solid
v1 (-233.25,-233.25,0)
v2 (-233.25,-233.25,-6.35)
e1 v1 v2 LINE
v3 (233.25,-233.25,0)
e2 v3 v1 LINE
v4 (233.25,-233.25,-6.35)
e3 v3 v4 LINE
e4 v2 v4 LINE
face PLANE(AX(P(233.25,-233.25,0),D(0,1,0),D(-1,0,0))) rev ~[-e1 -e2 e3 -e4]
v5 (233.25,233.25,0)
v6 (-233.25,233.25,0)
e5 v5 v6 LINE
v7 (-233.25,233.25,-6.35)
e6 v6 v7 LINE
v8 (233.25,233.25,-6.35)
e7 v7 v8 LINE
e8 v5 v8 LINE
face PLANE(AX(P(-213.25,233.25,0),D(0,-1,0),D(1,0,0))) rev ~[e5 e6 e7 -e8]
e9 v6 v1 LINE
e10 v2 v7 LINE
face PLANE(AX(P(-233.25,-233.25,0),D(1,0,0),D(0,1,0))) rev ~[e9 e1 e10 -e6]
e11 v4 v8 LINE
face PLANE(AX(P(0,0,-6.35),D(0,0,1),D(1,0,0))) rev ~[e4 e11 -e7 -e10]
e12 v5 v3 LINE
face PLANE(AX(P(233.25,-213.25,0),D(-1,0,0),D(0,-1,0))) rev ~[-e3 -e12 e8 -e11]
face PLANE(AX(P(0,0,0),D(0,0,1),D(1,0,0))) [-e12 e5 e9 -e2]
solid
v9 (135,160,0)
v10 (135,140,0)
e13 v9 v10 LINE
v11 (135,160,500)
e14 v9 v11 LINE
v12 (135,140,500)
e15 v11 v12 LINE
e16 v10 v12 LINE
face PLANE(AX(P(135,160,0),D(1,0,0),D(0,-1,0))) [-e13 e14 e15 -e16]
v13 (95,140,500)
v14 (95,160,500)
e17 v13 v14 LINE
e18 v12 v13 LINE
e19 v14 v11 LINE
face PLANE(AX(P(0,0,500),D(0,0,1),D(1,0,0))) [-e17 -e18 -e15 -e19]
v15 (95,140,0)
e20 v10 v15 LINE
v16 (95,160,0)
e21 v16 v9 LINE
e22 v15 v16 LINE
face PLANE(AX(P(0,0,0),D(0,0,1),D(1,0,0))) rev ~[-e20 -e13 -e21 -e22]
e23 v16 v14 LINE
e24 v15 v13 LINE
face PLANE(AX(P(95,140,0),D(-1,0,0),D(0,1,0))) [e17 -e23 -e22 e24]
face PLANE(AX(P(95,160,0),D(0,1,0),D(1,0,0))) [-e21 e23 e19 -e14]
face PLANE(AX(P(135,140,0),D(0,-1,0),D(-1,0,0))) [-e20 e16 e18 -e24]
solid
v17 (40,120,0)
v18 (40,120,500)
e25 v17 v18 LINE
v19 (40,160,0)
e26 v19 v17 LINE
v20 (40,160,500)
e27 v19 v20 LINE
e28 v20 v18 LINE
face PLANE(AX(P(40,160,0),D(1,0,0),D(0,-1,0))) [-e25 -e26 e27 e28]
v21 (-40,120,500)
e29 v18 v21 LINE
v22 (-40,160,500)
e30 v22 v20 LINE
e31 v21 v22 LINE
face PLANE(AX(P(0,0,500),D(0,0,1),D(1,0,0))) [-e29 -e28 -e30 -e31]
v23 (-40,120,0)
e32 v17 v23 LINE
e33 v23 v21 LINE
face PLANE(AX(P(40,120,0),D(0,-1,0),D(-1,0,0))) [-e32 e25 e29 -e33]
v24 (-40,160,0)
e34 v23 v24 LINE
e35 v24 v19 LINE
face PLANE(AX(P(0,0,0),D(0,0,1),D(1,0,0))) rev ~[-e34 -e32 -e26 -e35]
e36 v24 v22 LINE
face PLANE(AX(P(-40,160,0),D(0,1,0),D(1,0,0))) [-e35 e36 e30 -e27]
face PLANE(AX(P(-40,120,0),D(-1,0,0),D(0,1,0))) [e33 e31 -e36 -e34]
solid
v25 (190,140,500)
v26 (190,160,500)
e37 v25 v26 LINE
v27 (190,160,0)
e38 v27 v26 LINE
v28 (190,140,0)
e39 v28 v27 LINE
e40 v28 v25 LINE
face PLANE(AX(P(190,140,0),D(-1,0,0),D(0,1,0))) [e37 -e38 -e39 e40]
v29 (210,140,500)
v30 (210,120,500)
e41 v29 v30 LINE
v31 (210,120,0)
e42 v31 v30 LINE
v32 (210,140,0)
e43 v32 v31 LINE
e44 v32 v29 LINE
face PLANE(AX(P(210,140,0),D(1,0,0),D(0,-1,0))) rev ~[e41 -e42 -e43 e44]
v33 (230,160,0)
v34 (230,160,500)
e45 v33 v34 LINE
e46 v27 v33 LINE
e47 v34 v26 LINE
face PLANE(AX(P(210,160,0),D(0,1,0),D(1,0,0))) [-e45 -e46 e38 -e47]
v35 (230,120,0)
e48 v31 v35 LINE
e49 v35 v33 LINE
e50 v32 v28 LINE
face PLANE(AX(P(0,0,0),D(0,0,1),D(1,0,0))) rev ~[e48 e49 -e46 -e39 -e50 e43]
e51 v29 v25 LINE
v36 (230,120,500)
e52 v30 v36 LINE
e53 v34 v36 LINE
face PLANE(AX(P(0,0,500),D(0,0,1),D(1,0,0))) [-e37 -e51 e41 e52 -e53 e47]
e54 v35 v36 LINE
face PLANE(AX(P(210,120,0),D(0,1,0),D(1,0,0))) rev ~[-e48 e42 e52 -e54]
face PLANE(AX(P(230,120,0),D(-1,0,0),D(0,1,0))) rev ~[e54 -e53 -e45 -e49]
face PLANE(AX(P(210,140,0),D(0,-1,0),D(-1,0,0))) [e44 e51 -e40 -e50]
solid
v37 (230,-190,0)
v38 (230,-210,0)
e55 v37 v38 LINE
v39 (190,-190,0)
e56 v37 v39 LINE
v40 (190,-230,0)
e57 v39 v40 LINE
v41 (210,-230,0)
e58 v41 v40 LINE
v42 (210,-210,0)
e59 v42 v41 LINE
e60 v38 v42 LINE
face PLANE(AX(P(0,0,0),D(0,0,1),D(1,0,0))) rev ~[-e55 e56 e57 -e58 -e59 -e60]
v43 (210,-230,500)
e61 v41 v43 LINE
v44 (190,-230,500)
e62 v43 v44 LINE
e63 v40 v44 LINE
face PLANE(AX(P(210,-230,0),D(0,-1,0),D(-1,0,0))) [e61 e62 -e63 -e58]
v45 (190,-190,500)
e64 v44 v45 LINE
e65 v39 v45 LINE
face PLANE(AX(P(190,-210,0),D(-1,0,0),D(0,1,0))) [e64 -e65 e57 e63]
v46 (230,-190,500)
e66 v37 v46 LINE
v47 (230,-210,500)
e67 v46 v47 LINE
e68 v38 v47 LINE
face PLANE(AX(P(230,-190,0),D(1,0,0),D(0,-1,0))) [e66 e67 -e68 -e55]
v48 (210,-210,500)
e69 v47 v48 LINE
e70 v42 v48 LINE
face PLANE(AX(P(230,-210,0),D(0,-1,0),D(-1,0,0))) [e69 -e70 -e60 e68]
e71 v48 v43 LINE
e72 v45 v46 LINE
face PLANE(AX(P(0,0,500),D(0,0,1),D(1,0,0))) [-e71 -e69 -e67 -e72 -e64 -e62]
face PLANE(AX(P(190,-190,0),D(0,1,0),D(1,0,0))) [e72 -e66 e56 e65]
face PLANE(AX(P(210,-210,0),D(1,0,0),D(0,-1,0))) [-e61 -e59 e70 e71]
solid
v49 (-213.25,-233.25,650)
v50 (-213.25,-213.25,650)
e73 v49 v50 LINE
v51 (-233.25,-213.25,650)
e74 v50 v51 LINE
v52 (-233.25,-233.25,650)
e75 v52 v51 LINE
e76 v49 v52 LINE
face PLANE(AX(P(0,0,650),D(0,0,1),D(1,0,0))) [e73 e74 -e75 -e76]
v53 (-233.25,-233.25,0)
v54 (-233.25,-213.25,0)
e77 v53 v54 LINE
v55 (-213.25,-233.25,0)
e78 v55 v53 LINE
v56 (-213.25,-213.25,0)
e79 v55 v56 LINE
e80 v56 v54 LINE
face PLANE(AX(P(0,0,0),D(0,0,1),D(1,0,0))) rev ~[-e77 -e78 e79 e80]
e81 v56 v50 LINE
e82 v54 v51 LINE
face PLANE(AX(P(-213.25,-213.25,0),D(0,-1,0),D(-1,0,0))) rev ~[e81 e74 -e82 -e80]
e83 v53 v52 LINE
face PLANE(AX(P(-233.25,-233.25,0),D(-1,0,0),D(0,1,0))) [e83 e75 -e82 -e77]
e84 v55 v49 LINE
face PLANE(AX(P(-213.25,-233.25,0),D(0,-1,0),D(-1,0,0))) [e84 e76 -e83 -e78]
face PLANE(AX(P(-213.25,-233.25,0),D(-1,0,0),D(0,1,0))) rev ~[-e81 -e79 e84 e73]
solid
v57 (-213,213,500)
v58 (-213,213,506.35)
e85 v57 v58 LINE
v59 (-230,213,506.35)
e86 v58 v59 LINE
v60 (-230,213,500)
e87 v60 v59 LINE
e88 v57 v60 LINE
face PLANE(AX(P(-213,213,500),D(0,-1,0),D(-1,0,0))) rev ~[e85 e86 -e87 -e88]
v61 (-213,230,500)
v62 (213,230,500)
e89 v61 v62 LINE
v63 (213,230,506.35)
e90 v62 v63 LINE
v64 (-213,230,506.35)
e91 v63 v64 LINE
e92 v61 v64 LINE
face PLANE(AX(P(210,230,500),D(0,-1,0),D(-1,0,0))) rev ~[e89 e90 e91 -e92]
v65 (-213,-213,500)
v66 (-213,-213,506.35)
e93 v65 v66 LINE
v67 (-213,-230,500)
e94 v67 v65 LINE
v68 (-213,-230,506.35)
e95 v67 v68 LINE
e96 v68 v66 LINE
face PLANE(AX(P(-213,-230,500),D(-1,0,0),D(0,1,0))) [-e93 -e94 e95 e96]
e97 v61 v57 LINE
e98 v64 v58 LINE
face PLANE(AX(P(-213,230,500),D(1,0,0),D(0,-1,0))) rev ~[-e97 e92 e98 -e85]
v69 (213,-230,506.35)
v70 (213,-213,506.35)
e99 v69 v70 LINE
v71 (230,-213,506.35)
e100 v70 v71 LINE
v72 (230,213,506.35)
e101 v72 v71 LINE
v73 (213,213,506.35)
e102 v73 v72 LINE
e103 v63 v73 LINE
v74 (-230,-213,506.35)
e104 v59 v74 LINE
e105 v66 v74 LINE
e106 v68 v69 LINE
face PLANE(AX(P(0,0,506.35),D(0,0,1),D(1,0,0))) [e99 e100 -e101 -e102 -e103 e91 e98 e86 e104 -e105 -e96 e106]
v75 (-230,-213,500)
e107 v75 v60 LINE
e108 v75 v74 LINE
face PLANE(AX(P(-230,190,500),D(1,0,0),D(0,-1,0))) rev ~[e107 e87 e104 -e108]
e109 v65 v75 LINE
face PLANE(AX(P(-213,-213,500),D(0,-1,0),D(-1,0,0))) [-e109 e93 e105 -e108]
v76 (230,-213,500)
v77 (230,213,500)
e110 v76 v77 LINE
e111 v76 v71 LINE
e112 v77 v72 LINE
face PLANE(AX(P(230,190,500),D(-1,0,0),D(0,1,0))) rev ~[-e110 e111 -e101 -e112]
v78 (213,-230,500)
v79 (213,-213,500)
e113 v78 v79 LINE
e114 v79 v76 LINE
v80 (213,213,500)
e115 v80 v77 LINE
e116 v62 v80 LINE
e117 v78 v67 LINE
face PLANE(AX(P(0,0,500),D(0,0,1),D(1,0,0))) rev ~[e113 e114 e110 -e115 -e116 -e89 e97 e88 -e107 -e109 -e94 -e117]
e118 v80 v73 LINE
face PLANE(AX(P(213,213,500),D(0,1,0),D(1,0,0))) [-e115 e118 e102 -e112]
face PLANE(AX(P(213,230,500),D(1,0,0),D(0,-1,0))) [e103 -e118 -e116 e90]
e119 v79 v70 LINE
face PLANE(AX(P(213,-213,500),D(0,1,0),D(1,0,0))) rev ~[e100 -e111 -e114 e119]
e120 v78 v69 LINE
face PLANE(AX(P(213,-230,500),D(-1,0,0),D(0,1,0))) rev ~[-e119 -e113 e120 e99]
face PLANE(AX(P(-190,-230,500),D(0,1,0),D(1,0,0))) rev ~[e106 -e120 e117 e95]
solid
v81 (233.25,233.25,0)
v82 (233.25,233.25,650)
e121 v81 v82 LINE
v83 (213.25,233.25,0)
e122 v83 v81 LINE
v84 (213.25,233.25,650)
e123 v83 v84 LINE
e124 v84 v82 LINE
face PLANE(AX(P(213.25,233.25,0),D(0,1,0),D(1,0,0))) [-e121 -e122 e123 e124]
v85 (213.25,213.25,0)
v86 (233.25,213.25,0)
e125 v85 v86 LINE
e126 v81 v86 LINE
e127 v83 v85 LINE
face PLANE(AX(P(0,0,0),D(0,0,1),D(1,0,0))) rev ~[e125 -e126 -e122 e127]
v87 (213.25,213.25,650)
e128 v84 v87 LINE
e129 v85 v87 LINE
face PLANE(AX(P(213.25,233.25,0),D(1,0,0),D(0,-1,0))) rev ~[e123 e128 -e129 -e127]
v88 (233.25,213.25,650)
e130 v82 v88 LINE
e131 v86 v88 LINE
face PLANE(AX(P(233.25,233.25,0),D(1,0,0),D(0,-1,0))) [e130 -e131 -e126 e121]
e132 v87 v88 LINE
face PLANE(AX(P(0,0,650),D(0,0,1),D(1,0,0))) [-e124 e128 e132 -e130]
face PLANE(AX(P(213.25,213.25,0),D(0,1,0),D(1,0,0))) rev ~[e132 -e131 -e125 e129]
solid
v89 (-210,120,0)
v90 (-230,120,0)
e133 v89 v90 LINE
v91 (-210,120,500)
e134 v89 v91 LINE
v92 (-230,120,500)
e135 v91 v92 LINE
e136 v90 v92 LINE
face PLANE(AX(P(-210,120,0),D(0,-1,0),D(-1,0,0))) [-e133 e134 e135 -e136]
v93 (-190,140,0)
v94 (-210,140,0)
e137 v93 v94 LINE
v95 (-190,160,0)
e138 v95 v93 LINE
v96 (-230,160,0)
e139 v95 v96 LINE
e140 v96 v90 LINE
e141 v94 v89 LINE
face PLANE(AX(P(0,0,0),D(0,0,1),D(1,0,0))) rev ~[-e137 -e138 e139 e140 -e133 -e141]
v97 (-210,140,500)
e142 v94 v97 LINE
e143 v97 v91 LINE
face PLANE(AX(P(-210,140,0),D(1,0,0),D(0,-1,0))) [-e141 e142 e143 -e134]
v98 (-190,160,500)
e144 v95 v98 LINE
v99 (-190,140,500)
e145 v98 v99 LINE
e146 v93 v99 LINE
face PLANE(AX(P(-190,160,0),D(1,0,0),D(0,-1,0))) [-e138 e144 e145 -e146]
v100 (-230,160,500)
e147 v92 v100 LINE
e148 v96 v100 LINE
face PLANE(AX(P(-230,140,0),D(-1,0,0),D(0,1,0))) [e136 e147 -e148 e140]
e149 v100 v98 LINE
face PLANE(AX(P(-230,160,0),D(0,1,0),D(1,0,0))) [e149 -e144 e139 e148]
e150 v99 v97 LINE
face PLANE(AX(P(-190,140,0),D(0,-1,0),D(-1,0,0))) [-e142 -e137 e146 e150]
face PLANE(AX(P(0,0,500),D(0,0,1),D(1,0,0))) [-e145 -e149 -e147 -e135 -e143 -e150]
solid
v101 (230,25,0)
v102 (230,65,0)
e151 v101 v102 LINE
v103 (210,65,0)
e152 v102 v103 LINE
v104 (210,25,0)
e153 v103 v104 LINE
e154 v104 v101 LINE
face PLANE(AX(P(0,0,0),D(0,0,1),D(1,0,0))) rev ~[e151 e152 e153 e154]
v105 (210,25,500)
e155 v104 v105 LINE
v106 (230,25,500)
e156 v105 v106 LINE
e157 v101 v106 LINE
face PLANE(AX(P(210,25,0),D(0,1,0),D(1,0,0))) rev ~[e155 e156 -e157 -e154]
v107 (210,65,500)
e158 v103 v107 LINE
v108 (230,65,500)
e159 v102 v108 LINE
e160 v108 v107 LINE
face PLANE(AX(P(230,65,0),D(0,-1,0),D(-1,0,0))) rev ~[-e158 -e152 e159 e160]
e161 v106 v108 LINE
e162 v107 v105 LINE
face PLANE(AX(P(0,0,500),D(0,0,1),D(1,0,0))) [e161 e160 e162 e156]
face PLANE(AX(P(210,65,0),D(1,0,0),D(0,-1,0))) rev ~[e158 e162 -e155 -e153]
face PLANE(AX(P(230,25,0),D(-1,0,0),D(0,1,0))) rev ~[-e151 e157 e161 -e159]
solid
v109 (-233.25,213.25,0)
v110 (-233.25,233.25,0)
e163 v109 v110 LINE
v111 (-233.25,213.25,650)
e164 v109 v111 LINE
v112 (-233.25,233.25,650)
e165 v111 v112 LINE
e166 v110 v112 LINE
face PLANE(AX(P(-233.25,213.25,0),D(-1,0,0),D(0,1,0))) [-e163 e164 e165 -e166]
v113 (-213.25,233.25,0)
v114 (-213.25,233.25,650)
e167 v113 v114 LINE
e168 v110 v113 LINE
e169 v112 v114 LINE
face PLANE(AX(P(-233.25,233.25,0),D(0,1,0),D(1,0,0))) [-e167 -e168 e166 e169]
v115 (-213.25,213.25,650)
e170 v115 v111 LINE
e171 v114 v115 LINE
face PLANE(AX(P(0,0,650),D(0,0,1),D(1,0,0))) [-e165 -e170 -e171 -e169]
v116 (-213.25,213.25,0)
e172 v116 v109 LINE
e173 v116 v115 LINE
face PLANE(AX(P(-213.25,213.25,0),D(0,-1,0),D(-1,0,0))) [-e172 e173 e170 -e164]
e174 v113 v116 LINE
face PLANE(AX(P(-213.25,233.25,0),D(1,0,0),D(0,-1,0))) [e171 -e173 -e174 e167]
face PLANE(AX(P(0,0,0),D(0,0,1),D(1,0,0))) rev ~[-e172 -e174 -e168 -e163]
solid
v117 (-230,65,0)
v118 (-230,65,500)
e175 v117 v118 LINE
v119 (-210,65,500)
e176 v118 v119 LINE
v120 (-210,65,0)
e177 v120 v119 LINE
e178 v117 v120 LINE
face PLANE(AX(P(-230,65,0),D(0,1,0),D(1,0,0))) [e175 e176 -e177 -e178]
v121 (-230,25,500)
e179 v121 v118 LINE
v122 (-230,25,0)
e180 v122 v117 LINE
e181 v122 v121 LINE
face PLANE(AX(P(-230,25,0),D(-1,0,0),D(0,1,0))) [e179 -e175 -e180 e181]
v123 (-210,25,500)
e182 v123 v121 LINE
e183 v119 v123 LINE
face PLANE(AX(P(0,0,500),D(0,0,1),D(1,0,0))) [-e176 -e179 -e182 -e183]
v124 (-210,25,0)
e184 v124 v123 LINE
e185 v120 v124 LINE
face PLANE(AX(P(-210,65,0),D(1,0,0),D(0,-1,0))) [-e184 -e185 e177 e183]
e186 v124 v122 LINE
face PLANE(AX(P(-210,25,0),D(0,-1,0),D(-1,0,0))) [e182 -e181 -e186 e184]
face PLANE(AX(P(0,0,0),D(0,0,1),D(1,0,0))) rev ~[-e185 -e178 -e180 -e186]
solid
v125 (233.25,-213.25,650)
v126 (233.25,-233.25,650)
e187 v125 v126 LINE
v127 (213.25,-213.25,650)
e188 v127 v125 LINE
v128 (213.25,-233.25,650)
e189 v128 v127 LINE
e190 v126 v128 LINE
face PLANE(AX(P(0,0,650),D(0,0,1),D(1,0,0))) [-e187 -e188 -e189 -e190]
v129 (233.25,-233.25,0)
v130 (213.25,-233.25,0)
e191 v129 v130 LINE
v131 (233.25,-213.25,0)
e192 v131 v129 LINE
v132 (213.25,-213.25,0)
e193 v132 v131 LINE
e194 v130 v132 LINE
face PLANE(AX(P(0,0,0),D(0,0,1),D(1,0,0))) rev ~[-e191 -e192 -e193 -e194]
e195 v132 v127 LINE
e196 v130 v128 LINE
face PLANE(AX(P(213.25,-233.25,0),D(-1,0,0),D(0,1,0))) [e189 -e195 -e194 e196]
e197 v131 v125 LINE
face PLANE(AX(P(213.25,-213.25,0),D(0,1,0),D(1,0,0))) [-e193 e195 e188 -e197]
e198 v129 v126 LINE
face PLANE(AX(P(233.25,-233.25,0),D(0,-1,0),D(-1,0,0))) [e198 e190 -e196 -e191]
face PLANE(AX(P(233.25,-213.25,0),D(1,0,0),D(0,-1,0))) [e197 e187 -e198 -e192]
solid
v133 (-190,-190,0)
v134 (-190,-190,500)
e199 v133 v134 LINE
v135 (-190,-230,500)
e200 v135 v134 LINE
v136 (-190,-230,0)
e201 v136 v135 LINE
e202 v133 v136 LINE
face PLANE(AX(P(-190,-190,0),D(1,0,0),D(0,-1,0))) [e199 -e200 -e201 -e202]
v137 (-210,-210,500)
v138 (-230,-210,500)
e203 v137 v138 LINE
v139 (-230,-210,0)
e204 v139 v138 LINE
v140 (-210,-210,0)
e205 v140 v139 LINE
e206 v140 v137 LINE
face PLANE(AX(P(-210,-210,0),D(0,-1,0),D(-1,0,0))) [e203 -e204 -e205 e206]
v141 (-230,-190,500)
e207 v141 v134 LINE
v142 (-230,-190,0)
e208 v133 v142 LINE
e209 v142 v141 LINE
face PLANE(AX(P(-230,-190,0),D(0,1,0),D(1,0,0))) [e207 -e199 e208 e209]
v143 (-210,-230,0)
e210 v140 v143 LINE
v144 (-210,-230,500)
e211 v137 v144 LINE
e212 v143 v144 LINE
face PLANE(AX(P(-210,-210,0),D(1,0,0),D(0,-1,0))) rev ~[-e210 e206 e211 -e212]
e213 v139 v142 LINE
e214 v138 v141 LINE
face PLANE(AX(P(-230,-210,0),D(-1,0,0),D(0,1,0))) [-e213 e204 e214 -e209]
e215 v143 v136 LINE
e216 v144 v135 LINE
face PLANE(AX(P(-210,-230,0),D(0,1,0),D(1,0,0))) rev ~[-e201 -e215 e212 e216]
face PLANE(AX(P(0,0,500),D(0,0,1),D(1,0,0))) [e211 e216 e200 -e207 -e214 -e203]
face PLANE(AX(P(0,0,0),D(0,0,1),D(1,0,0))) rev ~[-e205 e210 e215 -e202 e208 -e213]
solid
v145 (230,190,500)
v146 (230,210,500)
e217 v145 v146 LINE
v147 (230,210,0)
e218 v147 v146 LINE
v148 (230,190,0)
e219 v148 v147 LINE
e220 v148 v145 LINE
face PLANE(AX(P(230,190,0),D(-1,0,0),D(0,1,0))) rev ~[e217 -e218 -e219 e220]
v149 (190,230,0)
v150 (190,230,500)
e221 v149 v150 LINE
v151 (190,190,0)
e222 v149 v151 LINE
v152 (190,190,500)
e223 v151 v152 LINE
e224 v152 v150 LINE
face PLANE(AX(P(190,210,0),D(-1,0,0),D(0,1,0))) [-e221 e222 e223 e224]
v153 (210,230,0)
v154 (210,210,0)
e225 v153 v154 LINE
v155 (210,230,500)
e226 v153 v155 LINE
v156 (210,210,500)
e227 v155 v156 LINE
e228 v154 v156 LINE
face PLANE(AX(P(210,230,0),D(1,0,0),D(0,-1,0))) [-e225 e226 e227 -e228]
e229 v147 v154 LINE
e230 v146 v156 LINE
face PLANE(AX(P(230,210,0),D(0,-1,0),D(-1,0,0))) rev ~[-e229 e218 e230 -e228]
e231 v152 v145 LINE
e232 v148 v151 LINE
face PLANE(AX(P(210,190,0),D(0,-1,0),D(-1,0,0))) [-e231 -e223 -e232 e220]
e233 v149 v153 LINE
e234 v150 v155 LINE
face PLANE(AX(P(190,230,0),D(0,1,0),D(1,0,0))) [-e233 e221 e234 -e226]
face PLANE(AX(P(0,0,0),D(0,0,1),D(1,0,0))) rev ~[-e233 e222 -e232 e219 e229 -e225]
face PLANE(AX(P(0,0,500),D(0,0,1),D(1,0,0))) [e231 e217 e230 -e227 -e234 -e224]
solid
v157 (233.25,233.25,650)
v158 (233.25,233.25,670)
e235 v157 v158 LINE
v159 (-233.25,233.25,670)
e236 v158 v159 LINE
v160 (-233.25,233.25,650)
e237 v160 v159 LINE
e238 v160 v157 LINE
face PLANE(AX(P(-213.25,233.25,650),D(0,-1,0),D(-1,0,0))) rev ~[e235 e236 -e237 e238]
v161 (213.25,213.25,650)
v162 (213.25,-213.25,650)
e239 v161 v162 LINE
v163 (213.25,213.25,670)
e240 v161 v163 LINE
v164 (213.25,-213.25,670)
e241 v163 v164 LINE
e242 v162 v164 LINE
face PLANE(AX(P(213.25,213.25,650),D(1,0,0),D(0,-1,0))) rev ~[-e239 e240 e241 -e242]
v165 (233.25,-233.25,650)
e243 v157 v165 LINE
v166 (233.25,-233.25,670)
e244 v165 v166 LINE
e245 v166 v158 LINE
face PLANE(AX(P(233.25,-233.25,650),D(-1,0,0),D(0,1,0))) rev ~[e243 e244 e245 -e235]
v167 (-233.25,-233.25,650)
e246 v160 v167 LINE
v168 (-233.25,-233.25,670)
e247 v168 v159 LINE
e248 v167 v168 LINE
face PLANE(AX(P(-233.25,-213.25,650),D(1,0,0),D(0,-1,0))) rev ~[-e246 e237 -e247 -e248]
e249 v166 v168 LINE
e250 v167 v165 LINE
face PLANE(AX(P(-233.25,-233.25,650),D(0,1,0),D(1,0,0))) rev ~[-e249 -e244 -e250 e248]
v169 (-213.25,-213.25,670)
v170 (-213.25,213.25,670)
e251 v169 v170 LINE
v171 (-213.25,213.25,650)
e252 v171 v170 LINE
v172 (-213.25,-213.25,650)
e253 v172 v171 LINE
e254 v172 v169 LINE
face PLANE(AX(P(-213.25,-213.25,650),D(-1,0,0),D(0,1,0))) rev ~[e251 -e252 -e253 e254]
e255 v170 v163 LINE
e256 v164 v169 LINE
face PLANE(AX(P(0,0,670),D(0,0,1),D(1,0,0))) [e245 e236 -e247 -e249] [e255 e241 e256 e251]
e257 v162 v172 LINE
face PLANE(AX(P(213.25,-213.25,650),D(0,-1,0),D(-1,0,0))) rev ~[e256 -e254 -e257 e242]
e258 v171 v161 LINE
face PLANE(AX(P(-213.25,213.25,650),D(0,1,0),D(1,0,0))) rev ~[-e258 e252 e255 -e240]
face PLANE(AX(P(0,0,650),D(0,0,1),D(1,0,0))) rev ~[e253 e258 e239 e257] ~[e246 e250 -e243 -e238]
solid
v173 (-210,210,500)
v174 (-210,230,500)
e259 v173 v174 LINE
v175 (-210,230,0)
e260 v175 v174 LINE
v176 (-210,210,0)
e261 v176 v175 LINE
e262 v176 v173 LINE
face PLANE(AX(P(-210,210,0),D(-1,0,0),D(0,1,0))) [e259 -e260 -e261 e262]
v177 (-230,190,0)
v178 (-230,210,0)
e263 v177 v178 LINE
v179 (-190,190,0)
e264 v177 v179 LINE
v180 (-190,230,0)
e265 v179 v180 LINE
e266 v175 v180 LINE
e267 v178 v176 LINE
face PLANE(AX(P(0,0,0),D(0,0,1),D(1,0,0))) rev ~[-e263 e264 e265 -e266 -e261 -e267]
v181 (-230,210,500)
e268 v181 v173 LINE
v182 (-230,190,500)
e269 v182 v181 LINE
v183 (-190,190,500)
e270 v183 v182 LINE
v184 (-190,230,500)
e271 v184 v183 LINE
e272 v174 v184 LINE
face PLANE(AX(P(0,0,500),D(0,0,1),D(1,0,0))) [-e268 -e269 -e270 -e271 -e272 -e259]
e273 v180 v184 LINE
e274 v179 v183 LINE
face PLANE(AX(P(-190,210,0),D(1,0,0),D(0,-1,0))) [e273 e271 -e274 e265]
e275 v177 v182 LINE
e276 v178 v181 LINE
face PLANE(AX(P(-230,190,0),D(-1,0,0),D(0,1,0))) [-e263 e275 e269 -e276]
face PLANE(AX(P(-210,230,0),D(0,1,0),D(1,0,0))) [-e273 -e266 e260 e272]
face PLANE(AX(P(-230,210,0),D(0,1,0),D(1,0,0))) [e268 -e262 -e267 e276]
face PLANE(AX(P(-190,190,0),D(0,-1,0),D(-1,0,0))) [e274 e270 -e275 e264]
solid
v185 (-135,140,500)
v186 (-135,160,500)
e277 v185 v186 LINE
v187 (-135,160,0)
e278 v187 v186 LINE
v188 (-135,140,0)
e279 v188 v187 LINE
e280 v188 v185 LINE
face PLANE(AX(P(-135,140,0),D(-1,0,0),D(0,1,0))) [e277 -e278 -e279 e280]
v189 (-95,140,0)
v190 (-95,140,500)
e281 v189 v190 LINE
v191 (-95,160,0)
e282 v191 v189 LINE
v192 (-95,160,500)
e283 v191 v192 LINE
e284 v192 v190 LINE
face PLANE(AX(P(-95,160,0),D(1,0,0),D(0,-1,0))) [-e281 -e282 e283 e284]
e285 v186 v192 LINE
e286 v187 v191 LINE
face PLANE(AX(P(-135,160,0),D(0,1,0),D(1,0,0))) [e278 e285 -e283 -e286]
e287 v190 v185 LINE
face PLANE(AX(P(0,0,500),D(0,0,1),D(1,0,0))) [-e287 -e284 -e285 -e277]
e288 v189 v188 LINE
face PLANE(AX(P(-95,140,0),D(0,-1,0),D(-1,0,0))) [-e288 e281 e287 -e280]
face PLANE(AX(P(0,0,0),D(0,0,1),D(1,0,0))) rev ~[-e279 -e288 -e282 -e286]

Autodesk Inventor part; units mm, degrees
ref_plane "YZ Plane" through (0, 0, 0) normal (1, 0, 0) x (0, 1, 0)
ref_plane "XZ Plane" through (0, 0, 0) normal (0, 1, 0) x (-1, 0, 0)
ref_plane "XY Plane" through (0, 0, 0) normal (0, 0, 1) x (1, 0, 0)
sketch "Sketch1" plane through (0, 0, 0) normal (0, 0, 1) x (1, 0, 0)
  line L0 (233.25, -233.25) -> (-233.25, -233.25)
  line L1 (-233.25, -233.25) -> (-233.25, 233.25)
  line L2 (-233.25, 233.25) -> (233.25, 233.25)
  line L3 (233.25, 233.25) -> (233.25, -233.25)
  line L4 (233.25, -233.25) -> (-233.25, 233.25) construction
  line L5 (-233.25, -233.25) -> (233.25, 233.25) construction
  line L6 (-233.25, 233.25) -> (-213.25, 233.25)
  line L7 (-213.25, 233.25) -> (-213.25, 213.25)
  line L8 (-213.25, 213.25) -> (-233.25, 213.25)
  line L9 (-233.25, 213.25) -> (-233.25, 233.25)
  line L10 (233.25, 233.25) -> (213.25, 233.25)
  line L11 (213.25, 233.25) -> (213.25, 213.25)
  line L12 (213.25, 213.25) -> (233.25, 213.25)
  line L13 (233.25, 213.25) -> (233.25, 233.25)
  line L14 (-233.25, -233.25) -> (-213.25, -233.25)
  line L15 (-213.25, -233.25) -> (-213.25, -213.25)
  line L16 (-213.25, -213.25) -> (-233.25, -213.25)
  line L17 (-233.25, -213.25) -> (-233.25, -233.25)
  line L18 (233.25, -233.25) -> (213.25, -233.25)
  line L19 (213.25, -233.25) -> (213.25, -213.25)
  line L20 (213.25, -213.25) -> (233.25, -213.25)
  line L21 (233.25, -213.25) -> (233.25, -233.25)
  line L22 (-190, 190) -> (-210, 190)
  line L23 (-210, 190) -> (-210, 230)
  line L24 (-210, 230) -> (-190, 230)
  line L25 (-190, 230) -> (-190, 190)
  line L26 (-190, 190) -> (-230, 190)
  line L27 (-230, 190) -> (-230, 210)
  line L28 (-230, 210) -> (-190, 210)
  line L29 (-190, 210) -> (-190, 190)
  line L30 (190, 230) -> (210, 230)
  line L31 (210, 230) -> (210, 190)
  line L32 (210, 190) -> (190, 190)
  line L33 (190, 190) -> (190, 230)
  line L34 (190, 190) -> (230, 190)
  line L35 (230, 190) -> (230, 210)
  line L36 (230, 210) -> (190, 210)
  line L37 (190, 210) -> (190, 190)
  line L38 (-230, -190) -> (-190, -190)
  line L39 (-190, -190) -> (-190, -210)
  line L40 (-190, -210) -> (-230, -210)
  line L41 (-230, -210) -> (-230, -190)
  line L42 (-190, -190) -> (-210, -190)
  line L43 (-210, -190) -> (-210, -230)
  line L44 (-210, -230) -> (-190, -230)
  line L45 (-190, -230) -> (-190, -190)
  line L46 (190, -190) -> (230, -190)
  line L47 (230, -190) -> (230, -210)
  line L48 (230, -210) -> (190, -210)
  line L49 (190, -210) -> (190, -190)
  line L50 (190, -190) -> (210, -190)
  line L51 (210, -190) -> (210, -230)
  line L52 (210, -230) -> (190, -230)
  line L53 (190, -230) -> (190, -190)
  line L54 (-40, 160) -> (40, 160)
  line L55 (40, 160) -> (40, 120)
  line L56 (40, 120) -> (-40, 120)
  line L57 (-40, 120) -> (-40, 160)
  circle A0 centre (-112.5, -82.5) radius 105
  circle A1 centre (112.5, -82.5) radius 105
  line L58 (-112.5, -82.5) -> (112.5, -82.5) construction
  line L59 (150, -180) -> (-150, -180)
  line L60 (-150, -180) -> (-150, 70)
  line L61 (-150, 70) -> (150, 70)
  line L62 (150, 70) -> (150, -180)
  line L63 (150, -180) -> (-150, 70) construction
  line L64 (-150, -180) -> (150, 70) construction
  line L65 (-230, 160) -> (-210, 160)
  line L66 (-210, 160) -> (-210, 120)
  line L67 (-210, 120) -> (-230, 120)
  line L68 (-230, 120) -> (-230, 160)
  line L69 (-230, 160) -> (-190, 160)
  line L70 (-190, 160) -> (-190, 140)
  line L71 (-190, 140) -> (-230, 140)
  line L72 (-230, 140) -> (-230, 160)
  line L73 (-135, 160) -> (-95, 160)
  line L74 (-95, 160) -> (-95, 140)
  line L75 (-95, 140) -> (-135, 140)
  line L76 (-135, 140) -> (-135, 160)
  line L77 (-230, 65) -> (-210, 65)
  line L78 (-210, 65) -> (-210, 25)
  line L79 (-210, 25) -> (-230, 25)
  line L80 (-230, 25) -> (-230, 65)
  line L81 (-210, 25) -> (-210, -190) construction
  line L82 (95, 160) -> (135, 160)
  line L83 (135, 160) -> (135, 140)
  line L84 (135, 140) -> (95, 140)
  line L85 (95, 140) -> (95, 160)
  line L86 (230, 140) -> (190, 140)
  line L87 (190, 140) -> (190, 160)
  line L88 (190, 160) -> (230, 160)
  line L89 (230, 160) -> (230, 140)
  line L90 (230, 160) -> (210, 160)
  line L91 (210, 160) -> (210, 120)
  line L92 (210, 120) -> (230, 120)
  line L93 (230, 120) -> (230, 160)
  line L94 (230, 65) -> (210, 65)
  line L95 (210, 65) -> (210, 25)
  line L96 (210, 25) -> (230, 25)
  line L97 (230, 25) -> (230, 65)
  point P0 (0, 0)
  point P1 (0, 233.25)
  point P2 (0, 160)
  point P3 (0, -82.5)
  point P4 (0, -55)
  point P5 (0, 70)
  point P6 (-210, -82.5)
  point P7 (-210, 140)
  point P8 (-210, 210)
  point P9 (210, 210)
  point P10 (210, 140)
  point P11 (210, -210)
  point P12 (-210, -210)
  dimension "d0" = 466.5
  dimension "d1" = 466.5
  dimension "d2" = 20
  dimension "d3" = 20
  dimension "d6" = 20
  dimension "d7" = 40
  dimension "d8" = 3.25
  dimension "d9" = 3.25
  dimension "d10" = 3.25
  dimension "d11" = 3.25
  dimension "d12" = 3.25
  dimension "d13" = 3.25
  dimension "d14" = 3.25
  dimension "d15" = 3.25
  dimension "d16" = 80
  dimension "d17" = 40
  dimension "d19" = 70
  dimension "d20" = 210
  dimension "d21" = 210
  dimension "d22" = 225
  dimension "d26" = 300
  dimension "d27" = 250
  dimension "d28" = 50
  dimension "d29" = 150
  dimension "d30" = 40
  dimension "d31" = 20
  dimension "d32" = 55
  dimension "d33" = 55
  dimension "d36" = 55
  dimension "d37" = 55
extrude "Extrusion1" add sketch "Sketch1" against normal blind 6.35 contours L0 L19 L20 L3 | L0 L15 L16 L1 L8 L7 L2 L11 L12 L3 L20 L19 | L0 L1 L16 L15 | L12 L11 L2 L3 | L1 L2 L7 L8 | L22 L23 L28 L25 | L26 L27 L28 L23 | L28 L23 L24 L25 | L30 L31 L36 L33 | L36 L31 L32 L33 | L36 L35 L34 L31 | L38 L43 L40 L41 | L38 L39 L40 L43 | L40 L45 L44 L43 | L46 L51 L48 L49 | L46 L47 L48 L51 | L48 L51 L52 L53 | L54 L55 L56 L57 | A0 L59 L60 | A0 L60 L61 L62 A1 L59 | L60 L59 A0 | L59 L62 A1 | A1 L62 L59 | L65 L66 L71 L68 | L69 L70 L71 L66 | L71 L66 L67 L68 | L73 L74 L75 L76 | L77 L78 L79 L80 | L82 L83 L84 L85 | L93 L92 L91 L86 | L86 L91 L88 L89 | L86 L87 L88 L91 | L97 L96 L95 L94
extrude "Extrusion2" add sketch "Sketch1" along normal blind 500 separate body contours L22 L23 L28 L25 | L26 L27 L28 L23 | L28 L23 L24 L25 | L30 L31 L36 L33 | L36 L31 L32 L33 | L36 L35 L34 L31 | L38 L43 L40 L41 | L38 L39 L40 L43 | L40 L45 L44 L43 | L46 L51 L48 L49 | L46 L47 L48 L51 | L48 L51 L52 L53 | L54 L55 L56 L57 | L65 L66 L71 L68 | L69 L70 L71 L66 | L71 L66 L67 L68 | L73 L74 L75 L76 | L77 L78 L79 L80 | L82 L83 L84 L85 | L93 L92 L91 L86 | L86 L91 L88 L89 | L86 L87 L88 L91 | L97 L96 L95 L94
sketch "Sketch2" plane through (0, 0, 500) normal (0, 0, 1) x (1, 0, 0)
  line L0 (230, 210) -> (210, 210) projected
  line L1 (210, 210) -> (210, 230) projected
  line L2 (210, 230) -> (190, 230) projected
  line L3 (190, 230) -> (190, 190) projected
  line L4 (190, 190) -> (230, 190) projected
  line L5 (230, 190) -> (230, 210) projected
  line L6 (210, -230) -> (210, -210) projected
  line L7 (210, -210) -> (230, -210) projected
  line L8 (230, -210) -> (230, -190) projected
  line L9 (230, -190) -> (190, -190) projected
  line L10 (190, -190) -> (190, -230) projected
  line L11 (190, -230) -> (210, -230) projected
  line L12 (-230, -210) -> (-210, -210) projected
  line L13 (-210, -210) -> (-210, -230) projected
  line L14 (-210, -230) -> (-190, -230) projected
  line L15 (-190, -230) -> (-190, -190) projected
  line L16 (-190, -190) -> (-230, -190) projected
  line L17 (-230, -190) -> (-230, -210) projected
  line L18 (-210, 230) -> (-210, 210) projected
  line L19 (-210, 210) -> (-230, 210) projected
  line L20 (-230, 210) -> (-230, 190) projected
  line L21 (-230, 190) -> (-190, 190) projected
  line L22 (-190, 190) -> (-190, 230) projected
  line L23 (-190, 230) -> (-210, 230) projected
  line L24 (230, 230) -> (-230, 230)
  line L25 (-230, 230) -> (-230, -230)
  line L26 (-230, -230) -> (230, -230)
  line L27 (230, -230) -> (230, 230)
  line L28 (190, -230) -> (210, -230) projected
  line L29 (230, -210) -> (230, -190) projected
  line L30 (210, 230) -> (190, 230) projected
  line L31 (-230, 210) -> (-230, 190) projected
  line L32 (-233.25, 233.25) -> (233.25, 233.25) projected
  line L33 (-233.25, 233.25) -> (-213, 233.25)
  line L34 (-213, 233.25) -> (-213, 213)
  line L35 (-213, 213) -> (-233.25, 213)
  line L36 (-233.25, 213) -> (-233.25, 233.25)
  line L37 (233.25, 233.25) -> (213, 233.25)
  line L38 (213, 233.25) -> (213, 213)
  line L39 (213, 213) -> (233.25, 213)
  line L40 (233.25, 213) -> (233.25, 233.25)
  line L41 (233.25, -233.25) -> (213, -233.25)
  line L42 (213, -233.25) -> (213, -213)
  line L43 (213, -213) -> (233.25, -213)
  line L44 (233.25, -213) -> (233.25, -233.25)
  line L45 (-233.25, -233.25) -> (-213, -233.25)
  line L46 (-213, -233.25) -> (-213, -213)
  line L47 (-213, -213) -> (-233.25, -213)
  line L48 (-233.25, -213) -> (-233.25, -233.25)
  line L49 (-233.25, -233.25) -> (233.25, -233.25) projected
  point P0 (-230, -213)
  point P1 (-213, -230)
  point P2 (230, -213)
  point P3 (213, -230)
  point P4 (230, 213)
  point P5 (213, 230)
  point P6 (-230, 213)
  point P7 (-213, 230)
  dimension "d44" = 20.25
  dimension "d45" = 20.25
extrude "Extrusion3" add sketch "Sketch2" along normal blind 6.35 separate body contours L5 L4 L3 L2 L1 L0 | L0 L1 L24 L38 L39 L27 | L27 L9 L10 L26 L15 L16 L25 L21 L22 L24 L3 L4 | L8 L7 L6 L11 L10 L9 | L27 L43 L42 L26 L6 L7 | L22 L21 L20 L19 L18 L23 | L18 L19 L25 L35 L34 L24 | L14 L13 L12 L17 L16 L15 | L26 L46 L47 L25 L12 L13
extrude "Extrusion4" add sketch "Sketch1" along normal blind 650 separate body contours L0 L19 L20 L3 | L0 L1 L16 L15 | L12 L11 L2 L3 | L1 L2 L7 L8
sketch "Sketch3" plane through (0, 0, 650) normal (0, 0, 1) x (1, 0, 0)
  line L0 (-233.25, -213.25) -> (-233.25, -233.25) projected
  line L1 (-233.25, -233.25) -> (-213.25, -233.25) projected
  line L2 (-213.25, -233.25) -> (-213.25, -213.25) projected
  line L3 (-213.25, -213.25) -> (-233.25, -213.25) projected
  line L4 (-213.25, 213.25) -> (-213.25, 233.25) projected
  line L5 (-213.25, 233.25) -> (-233.25, 233.25) projected
  line L6 (-233.25, 233.25) -> (-233.25, 213.25) projected
  line L7 (-233.25, 213.25) -> (-213.25, 213.25) projected
  line L8 (233.25, 213.25) -> (233.25, 233.25) projected
  line L9 (233.25, 233.25) -> (213.25, 233.25) projected
  line L10 (213.25, 233.25) -> (213.25, 213.25) projected
  line L11 (213.25, 213.25) -> (233.25, 213.25) projected
  line L12 (213.25, -213.25) -> (213.25, -233.25) projected
  line L13 (213.25, -233.25) -> (233.25, -233.25) projected
  line L14 (233.25, -233.25) -> (233.25, -213.25) projected
  line L15 (233.25, -213.25) -> (213.25, -213.25) projected
  line L16 (233.25, -233.25) -> (-233.25, -233.25)
  line L17 (-233.25, -233.25) -> (-233.25, 233.25)
  line L18 (-233.25, 233.25) -> (233.25, 233.25)
  line L19 (233.25, 233.25) -> (233.25, -233.25)
  line L20 (-213.25, 213.25) -> (213.25, 213.25)
  line L21 (213.25, 213.25) -> (213.25, -213.25)
  line L22 (213.25, -213.25) -> (-213.25, -213.25)
  line L23 (-213.25, -213.25) -> (-213.25, 213.25)
  point P0 (0, 0)
extrude "Extrusion5" add sketch "Sketch3" along normal blind 20 separate body contours L3 L2 L1 L0 | L17 L7 L23 L3 | L22 L12 L16 L2 | L6 L5 L4 L7 | L15 L14 L13 L12 | L21 L11 L19 L15 | L4 L18 L10 L20 | L10 L9 L8 L11
equation "\"d1\" = d0"
equation "\"d10\" = d9"
equation "\"d11\" = d10"
equation "\"d12\" = d9"
equation "\"d13\" = d8"
equation "\"d14\" = d13"
equation "\"d15\" = d12"
equation "\"d32\" = d33"
equation "\"d36\" = d32"
equation "\"d37\" = d33"
properties part number "RevIII Refined Printer Envelope Study"
